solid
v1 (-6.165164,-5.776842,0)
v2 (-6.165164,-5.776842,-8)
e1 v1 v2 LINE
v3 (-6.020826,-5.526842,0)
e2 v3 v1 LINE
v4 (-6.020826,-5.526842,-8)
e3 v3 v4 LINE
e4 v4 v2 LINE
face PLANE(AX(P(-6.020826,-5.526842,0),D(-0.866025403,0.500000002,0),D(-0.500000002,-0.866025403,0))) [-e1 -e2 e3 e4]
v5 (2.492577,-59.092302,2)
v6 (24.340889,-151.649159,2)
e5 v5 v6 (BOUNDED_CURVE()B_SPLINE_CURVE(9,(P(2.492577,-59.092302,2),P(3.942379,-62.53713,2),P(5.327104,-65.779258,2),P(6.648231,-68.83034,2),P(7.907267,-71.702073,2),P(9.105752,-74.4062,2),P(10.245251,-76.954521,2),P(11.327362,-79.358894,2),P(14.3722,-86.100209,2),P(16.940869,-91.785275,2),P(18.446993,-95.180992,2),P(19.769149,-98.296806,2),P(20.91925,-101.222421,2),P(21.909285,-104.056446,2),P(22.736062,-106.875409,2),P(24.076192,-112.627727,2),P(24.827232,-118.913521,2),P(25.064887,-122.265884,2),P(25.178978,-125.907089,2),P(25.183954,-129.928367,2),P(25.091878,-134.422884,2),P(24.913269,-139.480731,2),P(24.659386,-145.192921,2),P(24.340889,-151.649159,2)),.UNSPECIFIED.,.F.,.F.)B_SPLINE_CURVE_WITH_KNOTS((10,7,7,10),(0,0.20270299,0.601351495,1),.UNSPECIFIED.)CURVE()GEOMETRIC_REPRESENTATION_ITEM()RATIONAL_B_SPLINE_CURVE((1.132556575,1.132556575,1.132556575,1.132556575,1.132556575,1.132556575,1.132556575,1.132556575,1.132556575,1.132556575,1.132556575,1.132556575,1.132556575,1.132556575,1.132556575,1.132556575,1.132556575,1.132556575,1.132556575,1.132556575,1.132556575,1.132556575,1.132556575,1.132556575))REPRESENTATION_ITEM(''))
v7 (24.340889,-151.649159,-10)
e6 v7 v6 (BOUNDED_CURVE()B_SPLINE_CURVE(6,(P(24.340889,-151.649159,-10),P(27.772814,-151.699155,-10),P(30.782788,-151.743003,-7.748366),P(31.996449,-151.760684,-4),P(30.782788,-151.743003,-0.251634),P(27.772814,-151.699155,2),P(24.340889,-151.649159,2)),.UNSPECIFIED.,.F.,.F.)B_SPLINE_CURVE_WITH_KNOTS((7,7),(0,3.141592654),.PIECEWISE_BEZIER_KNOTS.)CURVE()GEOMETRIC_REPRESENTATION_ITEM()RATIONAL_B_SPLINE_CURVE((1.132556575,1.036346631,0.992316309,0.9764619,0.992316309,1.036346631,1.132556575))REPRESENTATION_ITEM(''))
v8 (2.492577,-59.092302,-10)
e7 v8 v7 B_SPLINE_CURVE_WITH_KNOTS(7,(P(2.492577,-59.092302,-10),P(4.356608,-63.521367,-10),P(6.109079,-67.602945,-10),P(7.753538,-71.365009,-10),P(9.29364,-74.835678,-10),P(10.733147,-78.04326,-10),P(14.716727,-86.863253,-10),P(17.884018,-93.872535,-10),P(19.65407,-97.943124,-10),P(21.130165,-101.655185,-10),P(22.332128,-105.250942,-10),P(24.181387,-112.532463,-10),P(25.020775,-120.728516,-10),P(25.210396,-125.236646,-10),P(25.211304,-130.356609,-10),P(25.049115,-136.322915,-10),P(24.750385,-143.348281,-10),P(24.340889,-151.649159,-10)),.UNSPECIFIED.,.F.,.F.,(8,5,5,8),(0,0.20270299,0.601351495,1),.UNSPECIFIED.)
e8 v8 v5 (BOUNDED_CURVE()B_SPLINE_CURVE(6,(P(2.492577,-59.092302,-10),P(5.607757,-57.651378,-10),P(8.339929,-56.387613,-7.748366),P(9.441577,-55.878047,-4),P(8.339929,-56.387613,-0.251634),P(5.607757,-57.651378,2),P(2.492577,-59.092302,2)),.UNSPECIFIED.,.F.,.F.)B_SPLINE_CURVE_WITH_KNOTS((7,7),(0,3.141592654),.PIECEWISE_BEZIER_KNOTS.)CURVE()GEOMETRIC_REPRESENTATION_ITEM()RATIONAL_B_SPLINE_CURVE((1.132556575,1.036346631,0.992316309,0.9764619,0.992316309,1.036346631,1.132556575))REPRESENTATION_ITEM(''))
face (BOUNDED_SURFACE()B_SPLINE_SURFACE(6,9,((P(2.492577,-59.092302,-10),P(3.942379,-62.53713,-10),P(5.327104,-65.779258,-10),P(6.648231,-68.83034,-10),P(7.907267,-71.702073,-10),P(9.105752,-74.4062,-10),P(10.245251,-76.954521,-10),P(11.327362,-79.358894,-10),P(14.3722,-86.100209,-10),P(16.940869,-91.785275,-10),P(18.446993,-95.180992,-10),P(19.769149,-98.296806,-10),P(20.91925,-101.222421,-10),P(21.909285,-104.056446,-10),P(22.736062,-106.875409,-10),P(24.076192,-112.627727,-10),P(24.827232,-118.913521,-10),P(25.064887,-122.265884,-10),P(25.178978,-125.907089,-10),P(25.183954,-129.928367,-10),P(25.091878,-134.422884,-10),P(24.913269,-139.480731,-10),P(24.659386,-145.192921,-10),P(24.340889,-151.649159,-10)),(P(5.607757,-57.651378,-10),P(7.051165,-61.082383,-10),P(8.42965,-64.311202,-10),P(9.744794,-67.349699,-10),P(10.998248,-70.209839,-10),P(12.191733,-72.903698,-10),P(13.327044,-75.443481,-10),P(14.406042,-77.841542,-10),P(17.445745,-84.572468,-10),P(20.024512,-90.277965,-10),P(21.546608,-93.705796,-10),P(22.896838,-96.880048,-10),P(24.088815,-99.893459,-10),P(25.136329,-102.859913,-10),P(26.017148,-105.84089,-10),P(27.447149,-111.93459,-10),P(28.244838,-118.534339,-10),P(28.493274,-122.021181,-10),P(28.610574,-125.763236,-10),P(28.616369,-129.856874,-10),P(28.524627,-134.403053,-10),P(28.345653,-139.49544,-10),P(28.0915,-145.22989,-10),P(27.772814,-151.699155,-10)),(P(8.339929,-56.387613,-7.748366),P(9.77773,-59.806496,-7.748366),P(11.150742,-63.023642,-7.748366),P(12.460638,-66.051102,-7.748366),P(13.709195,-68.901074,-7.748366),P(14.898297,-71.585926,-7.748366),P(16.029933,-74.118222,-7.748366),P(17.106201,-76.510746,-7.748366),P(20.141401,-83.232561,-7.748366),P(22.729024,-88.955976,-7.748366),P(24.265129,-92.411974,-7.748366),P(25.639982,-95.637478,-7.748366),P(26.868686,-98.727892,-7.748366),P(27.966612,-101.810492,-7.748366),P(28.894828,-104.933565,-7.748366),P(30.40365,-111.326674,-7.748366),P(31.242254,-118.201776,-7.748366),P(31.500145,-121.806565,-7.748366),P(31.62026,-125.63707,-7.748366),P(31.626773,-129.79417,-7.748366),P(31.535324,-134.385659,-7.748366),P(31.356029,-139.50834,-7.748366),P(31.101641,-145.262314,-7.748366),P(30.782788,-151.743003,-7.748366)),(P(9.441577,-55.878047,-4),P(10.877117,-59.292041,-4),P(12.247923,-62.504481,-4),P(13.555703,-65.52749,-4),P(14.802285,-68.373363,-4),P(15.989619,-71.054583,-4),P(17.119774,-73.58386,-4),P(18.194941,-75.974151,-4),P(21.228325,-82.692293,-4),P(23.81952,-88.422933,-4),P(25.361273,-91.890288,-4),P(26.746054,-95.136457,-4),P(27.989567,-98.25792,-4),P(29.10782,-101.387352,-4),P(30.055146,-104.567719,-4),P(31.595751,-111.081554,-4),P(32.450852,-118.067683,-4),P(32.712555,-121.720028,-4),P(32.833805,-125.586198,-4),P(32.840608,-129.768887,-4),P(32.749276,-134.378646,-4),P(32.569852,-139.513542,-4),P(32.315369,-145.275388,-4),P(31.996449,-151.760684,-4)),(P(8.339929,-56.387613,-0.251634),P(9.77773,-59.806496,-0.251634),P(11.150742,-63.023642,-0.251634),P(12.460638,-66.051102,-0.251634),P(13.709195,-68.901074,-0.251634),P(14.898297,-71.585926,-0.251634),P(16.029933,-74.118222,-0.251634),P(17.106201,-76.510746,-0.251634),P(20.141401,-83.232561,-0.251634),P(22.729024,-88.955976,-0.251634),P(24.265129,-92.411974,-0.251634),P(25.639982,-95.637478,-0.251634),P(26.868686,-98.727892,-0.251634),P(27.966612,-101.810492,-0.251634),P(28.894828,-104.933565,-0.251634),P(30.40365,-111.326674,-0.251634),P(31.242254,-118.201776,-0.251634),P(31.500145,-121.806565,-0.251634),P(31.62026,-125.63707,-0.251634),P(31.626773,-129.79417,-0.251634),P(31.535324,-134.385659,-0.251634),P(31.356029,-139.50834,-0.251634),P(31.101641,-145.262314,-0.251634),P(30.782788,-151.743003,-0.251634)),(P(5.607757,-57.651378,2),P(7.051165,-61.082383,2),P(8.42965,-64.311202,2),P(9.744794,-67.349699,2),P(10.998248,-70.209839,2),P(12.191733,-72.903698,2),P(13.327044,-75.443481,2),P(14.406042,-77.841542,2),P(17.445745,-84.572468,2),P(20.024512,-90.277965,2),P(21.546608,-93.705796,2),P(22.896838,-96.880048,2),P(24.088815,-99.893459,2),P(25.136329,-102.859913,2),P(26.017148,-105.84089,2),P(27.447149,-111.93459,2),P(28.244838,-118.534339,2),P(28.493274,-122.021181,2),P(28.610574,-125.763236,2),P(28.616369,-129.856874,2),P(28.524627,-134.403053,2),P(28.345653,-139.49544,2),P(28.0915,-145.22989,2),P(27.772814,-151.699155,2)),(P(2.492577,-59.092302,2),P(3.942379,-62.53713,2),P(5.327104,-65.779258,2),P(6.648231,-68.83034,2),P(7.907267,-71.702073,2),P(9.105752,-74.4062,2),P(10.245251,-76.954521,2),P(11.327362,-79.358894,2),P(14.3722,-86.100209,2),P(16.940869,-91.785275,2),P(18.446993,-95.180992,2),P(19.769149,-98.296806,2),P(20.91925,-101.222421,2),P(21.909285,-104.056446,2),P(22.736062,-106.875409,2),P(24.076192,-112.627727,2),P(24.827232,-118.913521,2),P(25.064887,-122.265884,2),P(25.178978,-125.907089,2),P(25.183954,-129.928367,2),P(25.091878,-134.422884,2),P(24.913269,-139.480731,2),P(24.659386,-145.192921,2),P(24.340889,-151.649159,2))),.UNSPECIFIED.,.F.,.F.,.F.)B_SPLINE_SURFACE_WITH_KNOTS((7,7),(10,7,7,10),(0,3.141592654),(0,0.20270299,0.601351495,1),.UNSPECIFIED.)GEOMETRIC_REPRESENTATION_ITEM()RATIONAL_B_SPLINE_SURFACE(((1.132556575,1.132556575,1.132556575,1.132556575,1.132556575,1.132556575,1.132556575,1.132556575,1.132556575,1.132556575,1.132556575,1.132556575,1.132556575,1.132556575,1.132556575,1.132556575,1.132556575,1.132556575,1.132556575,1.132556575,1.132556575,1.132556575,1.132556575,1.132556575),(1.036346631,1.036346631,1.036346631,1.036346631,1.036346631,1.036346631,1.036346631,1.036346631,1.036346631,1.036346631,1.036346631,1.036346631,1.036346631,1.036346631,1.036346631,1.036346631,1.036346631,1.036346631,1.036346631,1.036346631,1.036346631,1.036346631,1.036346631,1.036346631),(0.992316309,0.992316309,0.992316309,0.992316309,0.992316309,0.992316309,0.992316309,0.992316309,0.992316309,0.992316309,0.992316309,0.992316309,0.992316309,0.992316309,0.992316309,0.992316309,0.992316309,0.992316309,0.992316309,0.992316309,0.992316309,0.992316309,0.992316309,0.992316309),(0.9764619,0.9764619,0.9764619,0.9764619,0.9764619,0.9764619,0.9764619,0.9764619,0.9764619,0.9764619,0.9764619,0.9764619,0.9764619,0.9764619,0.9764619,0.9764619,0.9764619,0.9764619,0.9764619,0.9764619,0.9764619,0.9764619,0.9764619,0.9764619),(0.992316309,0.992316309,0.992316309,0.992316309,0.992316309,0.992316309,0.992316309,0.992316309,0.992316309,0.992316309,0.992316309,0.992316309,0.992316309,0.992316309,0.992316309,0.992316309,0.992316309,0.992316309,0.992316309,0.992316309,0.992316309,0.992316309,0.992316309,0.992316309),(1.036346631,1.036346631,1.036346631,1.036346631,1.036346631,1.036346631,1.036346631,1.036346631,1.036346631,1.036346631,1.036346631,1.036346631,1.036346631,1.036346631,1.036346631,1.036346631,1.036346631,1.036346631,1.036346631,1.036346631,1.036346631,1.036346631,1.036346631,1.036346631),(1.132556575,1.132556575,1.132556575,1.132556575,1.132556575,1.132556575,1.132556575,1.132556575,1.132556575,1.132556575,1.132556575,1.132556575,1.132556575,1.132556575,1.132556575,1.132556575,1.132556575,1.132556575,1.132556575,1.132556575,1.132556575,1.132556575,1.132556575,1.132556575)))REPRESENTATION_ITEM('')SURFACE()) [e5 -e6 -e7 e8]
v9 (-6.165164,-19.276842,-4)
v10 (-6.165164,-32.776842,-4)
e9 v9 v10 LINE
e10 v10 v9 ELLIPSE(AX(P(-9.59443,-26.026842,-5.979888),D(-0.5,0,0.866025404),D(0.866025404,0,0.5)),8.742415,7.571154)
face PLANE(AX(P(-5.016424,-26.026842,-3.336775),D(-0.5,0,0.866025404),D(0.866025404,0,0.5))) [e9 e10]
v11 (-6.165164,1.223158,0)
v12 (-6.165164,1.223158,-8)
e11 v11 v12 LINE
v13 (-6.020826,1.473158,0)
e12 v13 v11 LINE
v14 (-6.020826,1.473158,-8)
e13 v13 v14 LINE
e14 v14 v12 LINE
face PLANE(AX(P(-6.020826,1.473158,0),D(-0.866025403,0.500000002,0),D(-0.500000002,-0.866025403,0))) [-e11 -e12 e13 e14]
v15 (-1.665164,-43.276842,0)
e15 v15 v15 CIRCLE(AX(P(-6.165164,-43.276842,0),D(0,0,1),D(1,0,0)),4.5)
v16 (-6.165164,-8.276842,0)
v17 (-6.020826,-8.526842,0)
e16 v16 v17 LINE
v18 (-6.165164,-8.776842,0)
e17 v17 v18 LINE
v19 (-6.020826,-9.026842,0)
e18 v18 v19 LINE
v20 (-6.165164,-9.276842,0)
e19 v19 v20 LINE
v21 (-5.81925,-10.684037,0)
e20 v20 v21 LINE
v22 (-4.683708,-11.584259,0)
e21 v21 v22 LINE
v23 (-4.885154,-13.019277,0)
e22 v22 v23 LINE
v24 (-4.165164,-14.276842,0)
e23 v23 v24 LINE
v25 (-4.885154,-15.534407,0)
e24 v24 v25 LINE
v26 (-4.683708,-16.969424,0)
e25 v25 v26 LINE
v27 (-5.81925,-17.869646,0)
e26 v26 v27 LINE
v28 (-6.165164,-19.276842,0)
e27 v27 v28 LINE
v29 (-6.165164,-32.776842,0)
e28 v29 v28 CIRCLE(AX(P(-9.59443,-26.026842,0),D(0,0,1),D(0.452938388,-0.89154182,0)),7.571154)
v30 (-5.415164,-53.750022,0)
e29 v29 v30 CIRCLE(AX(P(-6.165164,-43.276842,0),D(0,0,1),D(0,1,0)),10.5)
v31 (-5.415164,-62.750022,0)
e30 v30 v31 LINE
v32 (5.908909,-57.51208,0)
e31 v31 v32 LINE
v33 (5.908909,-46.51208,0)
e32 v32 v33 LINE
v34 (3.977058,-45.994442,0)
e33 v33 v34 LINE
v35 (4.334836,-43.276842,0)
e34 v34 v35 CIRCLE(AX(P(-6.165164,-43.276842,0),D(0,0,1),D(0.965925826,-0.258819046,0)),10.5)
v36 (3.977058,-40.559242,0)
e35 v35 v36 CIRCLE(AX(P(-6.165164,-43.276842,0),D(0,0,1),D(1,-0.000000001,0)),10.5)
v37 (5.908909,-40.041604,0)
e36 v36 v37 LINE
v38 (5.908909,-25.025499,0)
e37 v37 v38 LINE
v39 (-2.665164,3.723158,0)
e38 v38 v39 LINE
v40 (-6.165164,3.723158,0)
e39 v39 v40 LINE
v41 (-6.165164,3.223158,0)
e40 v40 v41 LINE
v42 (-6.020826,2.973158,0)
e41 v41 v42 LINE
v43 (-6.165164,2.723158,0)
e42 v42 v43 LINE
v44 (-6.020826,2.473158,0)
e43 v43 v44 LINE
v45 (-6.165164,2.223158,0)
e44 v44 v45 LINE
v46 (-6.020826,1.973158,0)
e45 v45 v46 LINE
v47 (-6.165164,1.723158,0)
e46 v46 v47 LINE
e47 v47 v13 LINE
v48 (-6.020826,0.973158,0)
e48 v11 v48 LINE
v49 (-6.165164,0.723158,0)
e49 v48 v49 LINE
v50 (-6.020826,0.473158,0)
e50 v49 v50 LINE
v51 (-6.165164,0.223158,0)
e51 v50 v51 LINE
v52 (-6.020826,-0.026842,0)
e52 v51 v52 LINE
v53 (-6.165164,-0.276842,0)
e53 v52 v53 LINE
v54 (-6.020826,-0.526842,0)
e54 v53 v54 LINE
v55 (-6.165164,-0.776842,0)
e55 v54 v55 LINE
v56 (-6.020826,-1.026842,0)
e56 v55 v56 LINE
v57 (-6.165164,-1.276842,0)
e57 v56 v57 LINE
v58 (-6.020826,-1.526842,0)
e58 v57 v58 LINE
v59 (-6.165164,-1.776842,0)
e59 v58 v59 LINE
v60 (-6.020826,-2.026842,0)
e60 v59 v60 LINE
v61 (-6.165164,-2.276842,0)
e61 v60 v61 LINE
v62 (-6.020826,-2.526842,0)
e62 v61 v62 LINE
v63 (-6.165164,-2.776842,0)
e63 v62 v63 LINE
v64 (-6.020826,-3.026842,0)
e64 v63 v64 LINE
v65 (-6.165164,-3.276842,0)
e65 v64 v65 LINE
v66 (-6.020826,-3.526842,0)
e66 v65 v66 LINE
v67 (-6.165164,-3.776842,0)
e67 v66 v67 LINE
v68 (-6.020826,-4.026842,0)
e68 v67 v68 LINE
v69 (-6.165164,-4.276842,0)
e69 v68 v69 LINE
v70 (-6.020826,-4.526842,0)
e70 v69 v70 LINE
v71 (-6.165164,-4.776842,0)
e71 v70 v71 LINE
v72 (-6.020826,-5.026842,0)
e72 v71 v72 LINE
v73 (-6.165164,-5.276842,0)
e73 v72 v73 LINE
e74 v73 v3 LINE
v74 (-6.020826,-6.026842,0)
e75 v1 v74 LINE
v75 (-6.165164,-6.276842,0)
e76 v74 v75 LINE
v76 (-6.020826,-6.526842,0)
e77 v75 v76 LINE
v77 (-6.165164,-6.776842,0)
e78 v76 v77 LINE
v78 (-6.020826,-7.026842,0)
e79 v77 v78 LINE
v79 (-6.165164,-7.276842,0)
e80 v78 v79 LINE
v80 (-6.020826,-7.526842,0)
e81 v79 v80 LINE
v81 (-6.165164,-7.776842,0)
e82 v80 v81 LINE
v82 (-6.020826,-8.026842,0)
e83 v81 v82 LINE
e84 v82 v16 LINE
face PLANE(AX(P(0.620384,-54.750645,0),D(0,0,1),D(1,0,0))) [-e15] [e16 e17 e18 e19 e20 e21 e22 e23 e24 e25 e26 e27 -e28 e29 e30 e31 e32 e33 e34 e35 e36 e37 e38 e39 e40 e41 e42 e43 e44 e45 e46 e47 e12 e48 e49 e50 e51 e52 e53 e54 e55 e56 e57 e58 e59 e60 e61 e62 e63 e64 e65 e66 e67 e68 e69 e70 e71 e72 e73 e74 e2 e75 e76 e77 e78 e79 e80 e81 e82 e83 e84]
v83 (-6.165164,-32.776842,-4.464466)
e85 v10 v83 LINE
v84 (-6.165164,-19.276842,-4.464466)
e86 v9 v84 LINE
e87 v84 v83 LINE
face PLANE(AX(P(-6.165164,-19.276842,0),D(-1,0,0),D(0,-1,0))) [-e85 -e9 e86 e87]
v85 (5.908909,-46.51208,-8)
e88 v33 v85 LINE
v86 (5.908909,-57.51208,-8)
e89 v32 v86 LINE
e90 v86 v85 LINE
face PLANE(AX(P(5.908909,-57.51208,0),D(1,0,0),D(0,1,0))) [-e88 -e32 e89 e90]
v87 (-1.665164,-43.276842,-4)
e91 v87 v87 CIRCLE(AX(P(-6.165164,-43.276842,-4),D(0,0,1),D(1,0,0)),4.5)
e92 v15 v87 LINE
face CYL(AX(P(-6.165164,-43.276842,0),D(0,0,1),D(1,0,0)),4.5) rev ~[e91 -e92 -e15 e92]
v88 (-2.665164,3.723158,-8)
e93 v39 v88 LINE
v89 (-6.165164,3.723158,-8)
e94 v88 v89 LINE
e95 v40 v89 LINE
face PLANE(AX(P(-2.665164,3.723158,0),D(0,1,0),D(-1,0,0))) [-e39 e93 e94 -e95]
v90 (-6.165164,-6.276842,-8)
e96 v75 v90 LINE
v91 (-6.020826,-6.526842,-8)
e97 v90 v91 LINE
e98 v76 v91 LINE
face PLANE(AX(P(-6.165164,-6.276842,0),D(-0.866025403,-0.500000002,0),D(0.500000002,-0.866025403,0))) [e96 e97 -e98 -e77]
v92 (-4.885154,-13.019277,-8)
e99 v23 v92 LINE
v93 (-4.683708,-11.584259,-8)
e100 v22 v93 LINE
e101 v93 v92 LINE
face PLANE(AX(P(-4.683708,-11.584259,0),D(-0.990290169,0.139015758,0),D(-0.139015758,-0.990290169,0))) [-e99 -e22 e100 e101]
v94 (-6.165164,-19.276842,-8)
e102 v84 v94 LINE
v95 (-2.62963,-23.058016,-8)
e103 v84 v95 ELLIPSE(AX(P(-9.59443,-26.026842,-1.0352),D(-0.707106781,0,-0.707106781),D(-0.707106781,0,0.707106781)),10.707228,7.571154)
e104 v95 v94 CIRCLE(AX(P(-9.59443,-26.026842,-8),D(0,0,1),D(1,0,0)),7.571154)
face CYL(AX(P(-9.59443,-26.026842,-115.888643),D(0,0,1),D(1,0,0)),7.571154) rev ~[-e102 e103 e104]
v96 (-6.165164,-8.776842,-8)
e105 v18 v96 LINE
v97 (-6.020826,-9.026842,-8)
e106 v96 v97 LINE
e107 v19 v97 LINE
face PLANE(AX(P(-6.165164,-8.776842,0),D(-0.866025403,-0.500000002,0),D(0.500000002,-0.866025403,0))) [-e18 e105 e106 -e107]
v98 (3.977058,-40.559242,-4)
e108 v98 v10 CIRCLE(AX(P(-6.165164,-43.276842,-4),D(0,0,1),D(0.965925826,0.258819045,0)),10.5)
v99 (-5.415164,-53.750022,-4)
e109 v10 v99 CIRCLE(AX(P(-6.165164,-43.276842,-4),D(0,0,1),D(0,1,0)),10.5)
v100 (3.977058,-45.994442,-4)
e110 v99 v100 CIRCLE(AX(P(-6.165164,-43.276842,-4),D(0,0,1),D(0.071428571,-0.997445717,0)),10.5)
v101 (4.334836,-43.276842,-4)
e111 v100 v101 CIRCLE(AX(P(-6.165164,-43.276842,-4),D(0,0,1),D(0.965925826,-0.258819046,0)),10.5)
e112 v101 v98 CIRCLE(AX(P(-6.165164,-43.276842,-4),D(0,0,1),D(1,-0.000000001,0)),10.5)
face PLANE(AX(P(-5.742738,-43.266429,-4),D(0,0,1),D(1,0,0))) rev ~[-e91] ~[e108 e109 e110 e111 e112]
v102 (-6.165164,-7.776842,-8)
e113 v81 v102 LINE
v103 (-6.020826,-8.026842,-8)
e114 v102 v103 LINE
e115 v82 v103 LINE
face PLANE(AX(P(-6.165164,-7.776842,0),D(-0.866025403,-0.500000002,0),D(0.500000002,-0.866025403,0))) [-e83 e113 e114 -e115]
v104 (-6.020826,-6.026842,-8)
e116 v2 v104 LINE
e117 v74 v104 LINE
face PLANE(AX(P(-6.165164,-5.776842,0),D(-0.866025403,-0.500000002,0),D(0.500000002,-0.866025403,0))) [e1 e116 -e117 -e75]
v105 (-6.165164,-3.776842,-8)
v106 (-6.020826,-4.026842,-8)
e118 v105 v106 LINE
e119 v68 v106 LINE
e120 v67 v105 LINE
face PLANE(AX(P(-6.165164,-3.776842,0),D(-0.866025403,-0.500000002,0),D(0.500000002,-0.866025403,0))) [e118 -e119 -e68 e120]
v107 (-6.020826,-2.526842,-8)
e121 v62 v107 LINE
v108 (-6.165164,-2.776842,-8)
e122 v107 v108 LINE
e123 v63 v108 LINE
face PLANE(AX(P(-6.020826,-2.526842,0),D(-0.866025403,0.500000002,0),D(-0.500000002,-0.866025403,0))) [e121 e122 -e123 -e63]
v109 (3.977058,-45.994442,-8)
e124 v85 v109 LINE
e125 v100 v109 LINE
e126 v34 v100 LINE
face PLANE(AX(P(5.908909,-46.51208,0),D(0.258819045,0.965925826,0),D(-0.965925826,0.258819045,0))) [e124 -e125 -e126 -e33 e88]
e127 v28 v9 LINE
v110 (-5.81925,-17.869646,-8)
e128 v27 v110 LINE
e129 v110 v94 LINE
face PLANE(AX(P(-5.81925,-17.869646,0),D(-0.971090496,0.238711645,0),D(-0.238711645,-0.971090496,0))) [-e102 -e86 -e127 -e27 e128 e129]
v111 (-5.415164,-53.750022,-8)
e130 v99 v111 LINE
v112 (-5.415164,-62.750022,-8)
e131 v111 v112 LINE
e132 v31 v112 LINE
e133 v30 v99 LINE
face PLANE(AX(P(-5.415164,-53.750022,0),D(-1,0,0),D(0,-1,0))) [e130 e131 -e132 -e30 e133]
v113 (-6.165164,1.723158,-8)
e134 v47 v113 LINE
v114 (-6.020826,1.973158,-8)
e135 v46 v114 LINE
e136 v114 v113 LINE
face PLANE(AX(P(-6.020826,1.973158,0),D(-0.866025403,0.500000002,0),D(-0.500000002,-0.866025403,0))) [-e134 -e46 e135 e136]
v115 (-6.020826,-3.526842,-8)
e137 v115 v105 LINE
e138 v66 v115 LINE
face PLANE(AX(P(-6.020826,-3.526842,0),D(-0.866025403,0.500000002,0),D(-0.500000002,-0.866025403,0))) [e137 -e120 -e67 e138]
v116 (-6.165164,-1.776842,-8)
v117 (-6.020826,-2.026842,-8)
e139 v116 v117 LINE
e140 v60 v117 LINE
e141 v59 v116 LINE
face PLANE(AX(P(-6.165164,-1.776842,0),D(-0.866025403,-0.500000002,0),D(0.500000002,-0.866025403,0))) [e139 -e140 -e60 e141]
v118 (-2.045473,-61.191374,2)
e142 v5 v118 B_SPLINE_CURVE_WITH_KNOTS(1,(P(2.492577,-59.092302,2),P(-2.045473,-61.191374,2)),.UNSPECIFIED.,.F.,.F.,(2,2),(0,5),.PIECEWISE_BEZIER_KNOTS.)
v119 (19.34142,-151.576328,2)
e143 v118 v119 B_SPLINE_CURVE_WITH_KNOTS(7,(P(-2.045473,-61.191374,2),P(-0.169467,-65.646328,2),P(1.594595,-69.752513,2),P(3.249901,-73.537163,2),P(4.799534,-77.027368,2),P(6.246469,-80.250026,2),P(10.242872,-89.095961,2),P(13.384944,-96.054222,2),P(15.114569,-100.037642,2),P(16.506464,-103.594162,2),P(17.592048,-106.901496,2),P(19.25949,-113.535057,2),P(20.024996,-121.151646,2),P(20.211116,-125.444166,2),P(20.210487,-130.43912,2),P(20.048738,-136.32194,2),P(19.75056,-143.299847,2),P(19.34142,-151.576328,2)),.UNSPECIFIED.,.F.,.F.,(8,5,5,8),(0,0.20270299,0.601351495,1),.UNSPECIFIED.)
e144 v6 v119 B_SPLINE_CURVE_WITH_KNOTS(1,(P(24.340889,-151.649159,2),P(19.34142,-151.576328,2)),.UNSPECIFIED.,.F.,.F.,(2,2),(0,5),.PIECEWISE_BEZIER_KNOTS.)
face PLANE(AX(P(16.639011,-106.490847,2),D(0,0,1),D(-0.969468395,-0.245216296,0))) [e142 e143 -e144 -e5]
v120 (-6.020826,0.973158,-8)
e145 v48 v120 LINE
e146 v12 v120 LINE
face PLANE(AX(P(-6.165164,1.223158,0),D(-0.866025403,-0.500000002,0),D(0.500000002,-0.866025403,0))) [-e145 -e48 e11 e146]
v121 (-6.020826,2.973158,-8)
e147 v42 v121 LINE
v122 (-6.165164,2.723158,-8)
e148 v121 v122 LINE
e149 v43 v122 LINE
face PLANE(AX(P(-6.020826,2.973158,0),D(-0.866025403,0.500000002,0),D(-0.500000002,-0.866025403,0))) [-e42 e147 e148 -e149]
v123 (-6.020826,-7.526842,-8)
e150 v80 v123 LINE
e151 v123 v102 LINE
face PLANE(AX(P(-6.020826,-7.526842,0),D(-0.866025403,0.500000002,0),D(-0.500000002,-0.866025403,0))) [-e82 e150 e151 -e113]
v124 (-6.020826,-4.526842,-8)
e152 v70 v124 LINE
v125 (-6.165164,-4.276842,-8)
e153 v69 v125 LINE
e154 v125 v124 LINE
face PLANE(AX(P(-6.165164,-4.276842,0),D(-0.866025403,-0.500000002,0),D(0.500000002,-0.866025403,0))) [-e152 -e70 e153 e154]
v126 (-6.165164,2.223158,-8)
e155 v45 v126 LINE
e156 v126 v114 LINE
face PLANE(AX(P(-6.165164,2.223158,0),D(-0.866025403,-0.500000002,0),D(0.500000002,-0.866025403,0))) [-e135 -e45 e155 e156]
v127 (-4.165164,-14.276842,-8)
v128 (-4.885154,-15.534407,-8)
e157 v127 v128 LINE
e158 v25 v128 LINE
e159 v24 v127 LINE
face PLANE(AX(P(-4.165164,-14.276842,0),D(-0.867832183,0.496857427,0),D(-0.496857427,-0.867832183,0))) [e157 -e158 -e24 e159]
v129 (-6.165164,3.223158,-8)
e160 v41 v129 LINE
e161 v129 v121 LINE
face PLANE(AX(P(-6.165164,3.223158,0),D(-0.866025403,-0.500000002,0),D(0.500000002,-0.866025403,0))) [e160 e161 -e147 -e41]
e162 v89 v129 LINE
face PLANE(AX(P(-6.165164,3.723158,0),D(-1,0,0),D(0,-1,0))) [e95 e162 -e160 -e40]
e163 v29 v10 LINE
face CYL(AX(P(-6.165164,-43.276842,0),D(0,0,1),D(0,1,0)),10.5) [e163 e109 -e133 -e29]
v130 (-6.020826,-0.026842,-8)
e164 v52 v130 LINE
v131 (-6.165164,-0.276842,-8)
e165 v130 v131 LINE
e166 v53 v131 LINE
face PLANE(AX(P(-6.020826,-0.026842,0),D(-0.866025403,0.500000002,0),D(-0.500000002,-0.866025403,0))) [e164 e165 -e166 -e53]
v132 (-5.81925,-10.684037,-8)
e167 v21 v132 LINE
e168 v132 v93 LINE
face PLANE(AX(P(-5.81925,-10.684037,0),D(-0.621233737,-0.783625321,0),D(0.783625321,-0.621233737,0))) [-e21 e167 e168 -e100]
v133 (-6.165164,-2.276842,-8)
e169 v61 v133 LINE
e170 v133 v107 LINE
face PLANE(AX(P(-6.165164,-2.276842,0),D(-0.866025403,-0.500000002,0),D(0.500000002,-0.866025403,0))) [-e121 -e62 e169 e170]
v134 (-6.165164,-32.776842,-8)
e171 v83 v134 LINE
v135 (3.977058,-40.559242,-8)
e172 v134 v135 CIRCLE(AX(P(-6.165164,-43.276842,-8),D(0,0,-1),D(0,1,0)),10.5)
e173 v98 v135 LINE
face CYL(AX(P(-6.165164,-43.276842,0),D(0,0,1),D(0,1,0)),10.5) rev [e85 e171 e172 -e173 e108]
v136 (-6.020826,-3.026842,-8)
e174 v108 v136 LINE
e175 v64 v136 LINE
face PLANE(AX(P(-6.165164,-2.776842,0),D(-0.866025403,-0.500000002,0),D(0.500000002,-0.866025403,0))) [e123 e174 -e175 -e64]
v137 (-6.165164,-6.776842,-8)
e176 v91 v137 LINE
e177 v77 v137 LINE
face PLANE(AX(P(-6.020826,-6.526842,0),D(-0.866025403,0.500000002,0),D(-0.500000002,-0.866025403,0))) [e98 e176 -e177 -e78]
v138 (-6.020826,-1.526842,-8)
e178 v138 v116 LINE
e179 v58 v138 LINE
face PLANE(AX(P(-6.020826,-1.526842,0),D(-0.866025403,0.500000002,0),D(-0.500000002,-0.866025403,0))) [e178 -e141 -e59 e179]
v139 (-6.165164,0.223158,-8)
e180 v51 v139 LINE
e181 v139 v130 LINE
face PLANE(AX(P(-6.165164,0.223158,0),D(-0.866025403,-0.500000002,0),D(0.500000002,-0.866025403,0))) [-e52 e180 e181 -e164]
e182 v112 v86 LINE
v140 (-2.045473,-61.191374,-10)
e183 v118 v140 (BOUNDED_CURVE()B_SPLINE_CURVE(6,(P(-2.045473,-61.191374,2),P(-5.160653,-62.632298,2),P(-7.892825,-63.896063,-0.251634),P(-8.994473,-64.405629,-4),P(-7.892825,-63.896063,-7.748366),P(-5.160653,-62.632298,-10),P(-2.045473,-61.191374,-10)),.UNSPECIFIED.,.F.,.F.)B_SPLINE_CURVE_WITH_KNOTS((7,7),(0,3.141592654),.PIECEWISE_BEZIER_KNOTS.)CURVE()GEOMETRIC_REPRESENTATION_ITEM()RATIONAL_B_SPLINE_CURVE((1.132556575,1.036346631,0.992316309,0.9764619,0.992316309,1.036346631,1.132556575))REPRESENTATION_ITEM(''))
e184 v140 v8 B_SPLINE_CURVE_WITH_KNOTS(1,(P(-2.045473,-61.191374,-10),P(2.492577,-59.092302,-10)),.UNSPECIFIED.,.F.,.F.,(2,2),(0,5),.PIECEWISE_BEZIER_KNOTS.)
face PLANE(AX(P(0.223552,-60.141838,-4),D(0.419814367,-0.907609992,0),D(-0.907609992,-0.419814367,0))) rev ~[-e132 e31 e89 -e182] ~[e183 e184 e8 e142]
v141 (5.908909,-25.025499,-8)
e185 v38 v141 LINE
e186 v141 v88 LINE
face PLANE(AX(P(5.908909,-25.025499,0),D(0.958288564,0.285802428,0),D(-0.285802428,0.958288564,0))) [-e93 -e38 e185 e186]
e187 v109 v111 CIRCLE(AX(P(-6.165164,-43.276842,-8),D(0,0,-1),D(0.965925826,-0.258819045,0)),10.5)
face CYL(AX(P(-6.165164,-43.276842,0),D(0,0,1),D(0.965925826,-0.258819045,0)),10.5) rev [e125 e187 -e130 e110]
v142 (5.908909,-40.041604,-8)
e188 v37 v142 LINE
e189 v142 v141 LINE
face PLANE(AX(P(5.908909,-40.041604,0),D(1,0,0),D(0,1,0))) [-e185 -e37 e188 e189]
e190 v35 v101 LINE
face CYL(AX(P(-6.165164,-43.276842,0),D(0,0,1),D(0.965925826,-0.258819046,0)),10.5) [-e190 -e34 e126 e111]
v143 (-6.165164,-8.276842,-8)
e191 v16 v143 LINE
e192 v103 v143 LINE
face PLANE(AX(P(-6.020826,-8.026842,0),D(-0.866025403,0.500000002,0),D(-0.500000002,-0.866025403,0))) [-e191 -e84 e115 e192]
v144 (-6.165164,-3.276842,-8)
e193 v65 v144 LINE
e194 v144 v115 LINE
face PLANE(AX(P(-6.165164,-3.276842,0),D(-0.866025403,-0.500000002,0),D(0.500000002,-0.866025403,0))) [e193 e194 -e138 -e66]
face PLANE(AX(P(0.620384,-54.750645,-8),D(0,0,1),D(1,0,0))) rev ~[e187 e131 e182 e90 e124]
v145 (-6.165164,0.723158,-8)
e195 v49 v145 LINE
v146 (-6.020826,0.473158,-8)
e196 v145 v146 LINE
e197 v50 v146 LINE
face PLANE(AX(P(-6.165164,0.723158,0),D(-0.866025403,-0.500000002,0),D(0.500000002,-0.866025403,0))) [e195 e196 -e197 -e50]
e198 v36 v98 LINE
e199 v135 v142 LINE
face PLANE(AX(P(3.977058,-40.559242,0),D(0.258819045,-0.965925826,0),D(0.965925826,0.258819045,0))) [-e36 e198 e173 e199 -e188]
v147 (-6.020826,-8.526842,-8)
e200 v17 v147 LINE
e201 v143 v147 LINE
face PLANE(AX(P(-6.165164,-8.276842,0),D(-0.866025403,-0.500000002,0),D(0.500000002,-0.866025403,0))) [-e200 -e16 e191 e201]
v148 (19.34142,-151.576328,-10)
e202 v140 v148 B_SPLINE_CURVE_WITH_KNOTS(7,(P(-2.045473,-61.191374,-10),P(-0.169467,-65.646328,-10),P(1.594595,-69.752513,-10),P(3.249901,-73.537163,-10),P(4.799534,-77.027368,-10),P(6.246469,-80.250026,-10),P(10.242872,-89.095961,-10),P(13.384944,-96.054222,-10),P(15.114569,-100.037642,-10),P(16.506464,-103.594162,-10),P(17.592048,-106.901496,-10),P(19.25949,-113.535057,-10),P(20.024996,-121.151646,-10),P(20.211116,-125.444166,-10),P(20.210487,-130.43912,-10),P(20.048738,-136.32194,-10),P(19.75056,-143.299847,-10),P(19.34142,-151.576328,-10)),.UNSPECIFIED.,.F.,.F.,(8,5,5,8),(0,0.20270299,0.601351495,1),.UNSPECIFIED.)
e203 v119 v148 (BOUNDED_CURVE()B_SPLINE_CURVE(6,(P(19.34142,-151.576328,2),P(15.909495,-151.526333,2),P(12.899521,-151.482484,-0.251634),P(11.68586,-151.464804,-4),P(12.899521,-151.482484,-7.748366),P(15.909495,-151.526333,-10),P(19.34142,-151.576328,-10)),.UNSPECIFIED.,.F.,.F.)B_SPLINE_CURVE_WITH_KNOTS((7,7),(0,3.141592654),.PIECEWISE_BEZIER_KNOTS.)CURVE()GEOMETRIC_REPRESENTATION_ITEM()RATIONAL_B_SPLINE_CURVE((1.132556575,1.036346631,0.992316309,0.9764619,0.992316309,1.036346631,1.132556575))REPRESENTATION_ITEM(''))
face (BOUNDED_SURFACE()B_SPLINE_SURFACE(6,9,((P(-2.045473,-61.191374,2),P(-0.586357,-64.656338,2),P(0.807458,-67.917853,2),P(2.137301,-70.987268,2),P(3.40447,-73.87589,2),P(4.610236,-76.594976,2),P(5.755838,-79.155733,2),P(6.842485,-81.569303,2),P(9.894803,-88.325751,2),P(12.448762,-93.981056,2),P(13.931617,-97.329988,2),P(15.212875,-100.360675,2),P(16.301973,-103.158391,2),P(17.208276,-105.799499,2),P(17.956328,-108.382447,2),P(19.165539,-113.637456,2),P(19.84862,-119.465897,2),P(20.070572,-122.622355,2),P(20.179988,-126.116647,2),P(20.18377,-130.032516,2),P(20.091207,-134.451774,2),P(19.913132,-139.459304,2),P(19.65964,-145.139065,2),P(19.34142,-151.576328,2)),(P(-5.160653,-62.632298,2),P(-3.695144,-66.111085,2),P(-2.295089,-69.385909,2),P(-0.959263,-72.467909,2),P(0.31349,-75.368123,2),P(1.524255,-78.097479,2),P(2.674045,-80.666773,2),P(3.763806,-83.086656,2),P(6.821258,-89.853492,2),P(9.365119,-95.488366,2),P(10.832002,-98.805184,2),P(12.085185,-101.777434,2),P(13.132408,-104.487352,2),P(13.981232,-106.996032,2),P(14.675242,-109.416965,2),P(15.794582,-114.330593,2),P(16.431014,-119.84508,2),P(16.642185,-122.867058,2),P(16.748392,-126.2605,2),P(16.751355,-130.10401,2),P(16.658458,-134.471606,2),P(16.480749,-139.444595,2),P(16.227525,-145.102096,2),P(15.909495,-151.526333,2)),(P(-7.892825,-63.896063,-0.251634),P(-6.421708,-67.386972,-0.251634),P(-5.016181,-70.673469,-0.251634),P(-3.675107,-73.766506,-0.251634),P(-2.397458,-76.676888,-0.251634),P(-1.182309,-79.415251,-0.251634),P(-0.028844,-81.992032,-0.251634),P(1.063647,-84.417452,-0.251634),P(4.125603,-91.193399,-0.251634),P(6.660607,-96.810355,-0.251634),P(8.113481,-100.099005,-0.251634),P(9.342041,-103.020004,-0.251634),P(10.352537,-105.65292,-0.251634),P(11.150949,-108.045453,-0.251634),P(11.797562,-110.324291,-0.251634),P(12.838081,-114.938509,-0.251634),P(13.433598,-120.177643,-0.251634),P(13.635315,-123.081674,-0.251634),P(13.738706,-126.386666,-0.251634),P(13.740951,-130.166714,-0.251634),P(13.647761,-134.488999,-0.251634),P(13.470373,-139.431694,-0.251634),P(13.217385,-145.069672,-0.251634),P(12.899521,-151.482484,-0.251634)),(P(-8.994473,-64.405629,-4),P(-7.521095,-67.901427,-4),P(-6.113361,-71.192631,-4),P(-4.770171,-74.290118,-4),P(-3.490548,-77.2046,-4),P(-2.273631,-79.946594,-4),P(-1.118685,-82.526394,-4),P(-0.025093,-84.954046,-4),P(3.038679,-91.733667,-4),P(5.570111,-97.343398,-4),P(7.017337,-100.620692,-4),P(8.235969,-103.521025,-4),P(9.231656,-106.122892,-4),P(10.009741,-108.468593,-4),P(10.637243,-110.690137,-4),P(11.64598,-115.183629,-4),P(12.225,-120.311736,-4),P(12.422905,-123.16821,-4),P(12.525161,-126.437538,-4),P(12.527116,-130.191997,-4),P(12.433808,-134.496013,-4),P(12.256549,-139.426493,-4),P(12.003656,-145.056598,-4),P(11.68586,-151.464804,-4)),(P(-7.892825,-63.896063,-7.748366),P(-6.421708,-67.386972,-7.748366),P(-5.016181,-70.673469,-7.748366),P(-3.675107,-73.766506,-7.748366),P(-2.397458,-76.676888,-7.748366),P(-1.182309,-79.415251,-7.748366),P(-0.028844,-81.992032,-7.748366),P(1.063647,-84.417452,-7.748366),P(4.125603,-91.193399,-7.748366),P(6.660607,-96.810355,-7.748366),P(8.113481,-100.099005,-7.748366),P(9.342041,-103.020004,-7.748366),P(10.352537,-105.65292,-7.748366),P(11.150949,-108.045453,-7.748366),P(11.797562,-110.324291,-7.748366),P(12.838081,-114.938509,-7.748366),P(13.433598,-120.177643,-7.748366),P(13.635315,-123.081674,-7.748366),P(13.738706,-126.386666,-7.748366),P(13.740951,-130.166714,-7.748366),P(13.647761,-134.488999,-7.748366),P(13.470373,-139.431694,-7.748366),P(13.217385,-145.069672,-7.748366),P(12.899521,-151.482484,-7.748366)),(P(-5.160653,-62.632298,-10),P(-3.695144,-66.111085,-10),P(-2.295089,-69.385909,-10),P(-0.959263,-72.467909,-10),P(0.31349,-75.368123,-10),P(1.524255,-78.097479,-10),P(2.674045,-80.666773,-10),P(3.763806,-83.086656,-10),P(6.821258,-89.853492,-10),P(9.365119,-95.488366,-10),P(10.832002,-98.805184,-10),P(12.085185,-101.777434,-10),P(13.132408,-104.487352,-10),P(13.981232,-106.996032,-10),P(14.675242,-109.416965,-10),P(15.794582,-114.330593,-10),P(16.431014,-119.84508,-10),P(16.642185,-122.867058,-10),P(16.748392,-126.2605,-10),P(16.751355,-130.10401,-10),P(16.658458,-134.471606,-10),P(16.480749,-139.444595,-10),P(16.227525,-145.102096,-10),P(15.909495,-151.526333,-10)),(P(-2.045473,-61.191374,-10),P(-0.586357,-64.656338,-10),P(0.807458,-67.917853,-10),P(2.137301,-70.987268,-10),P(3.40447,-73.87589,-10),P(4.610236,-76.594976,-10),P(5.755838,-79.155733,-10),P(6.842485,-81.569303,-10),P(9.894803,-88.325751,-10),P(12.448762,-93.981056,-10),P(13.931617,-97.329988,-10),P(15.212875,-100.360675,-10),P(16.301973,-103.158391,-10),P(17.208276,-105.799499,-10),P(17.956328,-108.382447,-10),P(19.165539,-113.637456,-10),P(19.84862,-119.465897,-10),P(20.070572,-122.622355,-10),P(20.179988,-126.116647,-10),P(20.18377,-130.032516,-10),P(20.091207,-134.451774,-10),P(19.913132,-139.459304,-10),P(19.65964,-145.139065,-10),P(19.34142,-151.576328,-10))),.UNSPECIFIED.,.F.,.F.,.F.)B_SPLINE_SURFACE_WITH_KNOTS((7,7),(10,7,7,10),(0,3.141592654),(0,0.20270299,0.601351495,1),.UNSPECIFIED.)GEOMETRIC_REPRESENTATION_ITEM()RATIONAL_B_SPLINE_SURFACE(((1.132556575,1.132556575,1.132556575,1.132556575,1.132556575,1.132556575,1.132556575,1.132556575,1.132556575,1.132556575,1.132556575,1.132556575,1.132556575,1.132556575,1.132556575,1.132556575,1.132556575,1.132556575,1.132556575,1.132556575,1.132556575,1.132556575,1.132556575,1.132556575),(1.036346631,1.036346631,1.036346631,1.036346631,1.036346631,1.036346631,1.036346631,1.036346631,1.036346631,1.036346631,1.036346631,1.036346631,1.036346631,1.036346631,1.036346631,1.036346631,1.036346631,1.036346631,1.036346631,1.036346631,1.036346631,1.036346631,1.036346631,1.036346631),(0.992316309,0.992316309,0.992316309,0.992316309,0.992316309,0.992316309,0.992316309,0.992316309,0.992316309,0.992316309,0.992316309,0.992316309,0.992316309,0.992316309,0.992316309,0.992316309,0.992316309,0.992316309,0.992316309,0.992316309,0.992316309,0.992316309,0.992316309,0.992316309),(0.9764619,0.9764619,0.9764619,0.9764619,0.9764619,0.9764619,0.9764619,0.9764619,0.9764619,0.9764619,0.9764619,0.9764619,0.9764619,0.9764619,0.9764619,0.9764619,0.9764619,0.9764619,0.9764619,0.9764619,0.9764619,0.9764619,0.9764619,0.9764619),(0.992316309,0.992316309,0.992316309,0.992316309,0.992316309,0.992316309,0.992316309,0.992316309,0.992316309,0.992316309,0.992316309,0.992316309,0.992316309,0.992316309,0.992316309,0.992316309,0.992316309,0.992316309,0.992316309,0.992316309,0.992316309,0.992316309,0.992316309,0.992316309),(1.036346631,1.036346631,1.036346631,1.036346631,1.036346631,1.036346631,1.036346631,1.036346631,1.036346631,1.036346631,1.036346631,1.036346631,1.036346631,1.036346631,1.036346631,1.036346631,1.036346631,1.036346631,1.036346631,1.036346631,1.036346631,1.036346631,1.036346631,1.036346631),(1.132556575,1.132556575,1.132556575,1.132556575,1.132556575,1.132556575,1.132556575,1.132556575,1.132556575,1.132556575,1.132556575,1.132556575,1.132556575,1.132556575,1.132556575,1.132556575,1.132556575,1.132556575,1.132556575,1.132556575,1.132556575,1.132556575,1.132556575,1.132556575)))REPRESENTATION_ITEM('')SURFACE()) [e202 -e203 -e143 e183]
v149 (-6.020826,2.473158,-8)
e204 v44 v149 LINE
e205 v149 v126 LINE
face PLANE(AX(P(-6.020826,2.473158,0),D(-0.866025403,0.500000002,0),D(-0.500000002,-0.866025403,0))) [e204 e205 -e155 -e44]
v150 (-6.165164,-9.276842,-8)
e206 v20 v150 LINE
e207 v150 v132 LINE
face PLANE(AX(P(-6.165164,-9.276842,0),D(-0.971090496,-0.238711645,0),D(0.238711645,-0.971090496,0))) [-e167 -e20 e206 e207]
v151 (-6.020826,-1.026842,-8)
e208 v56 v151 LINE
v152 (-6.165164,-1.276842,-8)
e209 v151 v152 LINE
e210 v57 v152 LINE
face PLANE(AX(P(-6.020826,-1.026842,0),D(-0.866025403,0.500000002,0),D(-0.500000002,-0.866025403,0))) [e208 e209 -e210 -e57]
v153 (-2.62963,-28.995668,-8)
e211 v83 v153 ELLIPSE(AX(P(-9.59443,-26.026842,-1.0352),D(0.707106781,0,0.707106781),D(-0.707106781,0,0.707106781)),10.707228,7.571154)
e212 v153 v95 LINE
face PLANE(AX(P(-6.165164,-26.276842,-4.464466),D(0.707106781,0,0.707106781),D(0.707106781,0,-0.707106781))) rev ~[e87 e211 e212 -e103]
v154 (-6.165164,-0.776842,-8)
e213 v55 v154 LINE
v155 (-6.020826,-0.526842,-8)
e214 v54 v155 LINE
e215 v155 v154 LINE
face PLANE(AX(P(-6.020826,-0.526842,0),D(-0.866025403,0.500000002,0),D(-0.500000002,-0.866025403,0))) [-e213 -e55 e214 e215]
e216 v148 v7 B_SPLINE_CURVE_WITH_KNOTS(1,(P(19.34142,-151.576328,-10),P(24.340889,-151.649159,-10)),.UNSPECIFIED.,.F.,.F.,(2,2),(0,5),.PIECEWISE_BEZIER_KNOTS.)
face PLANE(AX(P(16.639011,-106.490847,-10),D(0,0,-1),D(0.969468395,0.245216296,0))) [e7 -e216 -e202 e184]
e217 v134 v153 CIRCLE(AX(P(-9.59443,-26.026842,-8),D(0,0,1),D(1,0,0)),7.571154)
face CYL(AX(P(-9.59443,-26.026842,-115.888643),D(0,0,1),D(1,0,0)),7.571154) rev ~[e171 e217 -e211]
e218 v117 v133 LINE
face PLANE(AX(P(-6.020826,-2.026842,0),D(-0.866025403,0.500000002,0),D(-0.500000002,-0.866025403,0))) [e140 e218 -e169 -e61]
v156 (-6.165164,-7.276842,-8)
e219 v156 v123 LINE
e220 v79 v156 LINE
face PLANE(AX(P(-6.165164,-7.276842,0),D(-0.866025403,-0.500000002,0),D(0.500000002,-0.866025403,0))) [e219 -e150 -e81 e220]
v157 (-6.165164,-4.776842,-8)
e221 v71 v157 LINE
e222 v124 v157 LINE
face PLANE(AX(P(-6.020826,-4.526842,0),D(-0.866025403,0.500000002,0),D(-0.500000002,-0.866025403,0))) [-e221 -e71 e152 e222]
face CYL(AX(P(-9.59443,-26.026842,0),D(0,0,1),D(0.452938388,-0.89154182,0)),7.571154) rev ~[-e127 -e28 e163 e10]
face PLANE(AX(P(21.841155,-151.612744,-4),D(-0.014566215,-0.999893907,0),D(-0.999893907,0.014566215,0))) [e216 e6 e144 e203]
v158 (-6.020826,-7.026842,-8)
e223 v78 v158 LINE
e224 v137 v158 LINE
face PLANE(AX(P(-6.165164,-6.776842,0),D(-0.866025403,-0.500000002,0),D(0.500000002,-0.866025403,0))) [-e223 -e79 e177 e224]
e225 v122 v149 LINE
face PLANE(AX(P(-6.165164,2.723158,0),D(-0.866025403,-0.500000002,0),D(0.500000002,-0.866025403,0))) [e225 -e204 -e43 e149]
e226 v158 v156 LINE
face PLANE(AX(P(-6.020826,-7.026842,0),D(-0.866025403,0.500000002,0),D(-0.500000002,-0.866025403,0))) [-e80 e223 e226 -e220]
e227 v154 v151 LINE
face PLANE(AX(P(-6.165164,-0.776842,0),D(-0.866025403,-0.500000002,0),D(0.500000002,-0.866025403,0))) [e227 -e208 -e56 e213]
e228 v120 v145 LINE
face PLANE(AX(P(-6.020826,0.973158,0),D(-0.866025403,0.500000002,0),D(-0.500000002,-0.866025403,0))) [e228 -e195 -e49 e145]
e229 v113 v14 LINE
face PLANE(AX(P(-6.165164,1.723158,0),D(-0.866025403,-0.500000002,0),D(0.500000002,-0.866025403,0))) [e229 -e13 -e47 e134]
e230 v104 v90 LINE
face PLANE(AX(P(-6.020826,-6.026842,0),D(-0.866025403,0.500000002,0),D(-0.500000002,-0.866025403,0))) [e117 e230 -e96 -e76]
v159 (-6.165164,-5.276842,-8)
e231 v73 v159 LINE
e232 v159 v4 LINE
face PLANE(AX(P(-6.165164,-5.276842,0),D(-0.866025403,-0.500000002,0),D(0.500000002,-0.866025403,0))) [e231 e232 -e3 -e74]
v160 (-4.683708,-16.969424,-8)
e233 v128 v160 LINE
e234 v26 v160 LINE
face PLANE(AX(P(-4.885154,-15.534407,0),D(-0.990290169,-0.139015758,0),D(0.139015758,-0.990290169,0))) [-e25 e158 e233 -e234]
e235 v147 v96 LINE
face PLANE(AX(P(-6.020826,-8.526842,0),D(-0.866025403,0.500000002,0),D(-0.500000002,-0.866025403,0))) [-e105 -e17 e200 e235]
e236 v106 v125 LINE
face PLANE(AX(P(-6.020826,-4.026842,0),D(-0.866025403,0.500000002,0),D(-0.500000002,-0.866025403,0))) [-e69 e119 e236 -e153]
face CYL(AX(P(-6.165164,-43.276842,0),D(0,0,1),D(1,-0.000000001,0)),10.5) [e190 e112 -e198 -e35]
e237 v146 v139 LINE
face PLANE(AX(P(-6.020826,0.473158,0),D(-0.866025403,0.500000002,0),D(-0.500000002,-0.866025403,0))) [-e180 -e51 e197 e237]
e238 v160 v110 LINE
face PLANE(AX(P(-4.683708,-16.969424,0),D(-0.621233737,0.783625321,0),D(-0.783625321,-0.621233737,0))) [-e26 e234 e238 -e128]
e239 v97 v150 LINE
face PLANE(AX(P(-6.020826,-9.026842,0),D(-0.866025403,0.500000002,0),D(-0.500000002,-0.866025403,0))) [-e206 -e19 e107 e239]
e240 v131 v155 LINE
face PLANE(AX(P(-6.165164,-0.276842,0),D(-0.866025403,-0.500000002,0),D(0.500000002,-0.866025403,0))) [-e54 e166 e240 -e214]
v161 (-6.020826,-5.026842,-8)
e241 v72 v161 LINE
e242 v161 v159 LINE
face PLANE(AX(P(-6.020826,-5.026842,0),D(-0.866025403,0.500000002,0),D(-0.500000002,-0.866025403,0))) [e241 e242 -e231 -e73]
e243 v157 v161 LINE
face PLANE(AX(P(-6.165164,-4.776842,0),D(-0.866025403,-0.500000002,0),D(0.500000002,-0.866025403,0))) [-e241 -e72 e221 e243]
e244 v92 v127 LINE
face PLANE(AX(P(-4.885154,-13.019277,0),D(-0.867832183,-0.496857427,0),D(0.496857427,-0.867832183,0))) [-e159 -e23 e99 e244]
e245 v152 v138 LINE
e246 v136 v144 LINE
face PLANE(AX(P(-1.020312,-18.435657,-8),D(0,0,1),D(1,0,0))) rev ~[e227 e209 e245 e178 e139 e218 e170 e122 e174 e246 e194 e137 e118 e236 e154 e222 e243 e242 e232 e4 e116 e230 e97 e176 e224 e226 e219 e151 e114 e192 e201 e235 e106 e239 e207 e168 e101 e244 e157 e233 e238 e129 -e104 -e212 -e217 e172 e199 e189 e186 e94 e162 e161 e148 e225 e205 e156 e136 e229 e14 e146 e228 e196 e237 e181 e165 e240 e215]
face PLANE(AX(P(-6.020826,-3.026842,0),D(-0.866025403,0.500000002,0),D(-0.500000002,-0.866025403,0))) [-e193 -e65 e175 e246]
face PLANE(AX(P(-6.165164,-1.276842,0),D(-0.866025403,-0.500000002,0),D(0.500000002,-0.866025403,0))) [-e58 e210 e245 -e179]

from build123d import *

# Parameters (mm, degrees)
BOSS_EXTRUDE1_DEPTH                 = 8
SKETCH1_3_R                         = 4.5
BOSS_EXTRUDE2_DEPTH                 = 4
BOSS_EXTRUDE3_DEPTH                 = 8
CUT_EXTRUDE1_DEPTH                  = 4
DRAFT1_ANGLE                        = 1
DRAFT2_ANGLE                        = 30
CUT_EXTRUDE2_REACH                  = 100.996
CUT_EXTRUDE2_END_RADIUS             = 7.571153535
CUT_EXTRUDE2_START                  = -30
CUT_EXTRUDE2_DIRECTION_2_REACH      = 100.996
CUT_EXTRUDE2_DIRECTION_2_END_RADIUS = 7.571153535


with BuildPart() as part:
    # Sketch1 → Boss-Extrude1 (new body)
    with BuildSketch(Plane.XY):
        with BuildLine():
            Line((-2.665163662, 3.723158213), (-6.165163662, 3.723158213))
            Line((-6.165163662, 3.723158213), (-6.165163662, 3.223158213))
            Line((-6.165163662, 3.223158213), (-6.020826094, 2.973158213))
            Line((-6.020826094, 2.973158213), (-6.165163662, 2.723158213))
            Line((-6.165163662, 2.723158213), (-6.020826094, 2.473158213))
            Line((-6.020826094, 2.473158213), (-6.165163662, 2.223158213))
            Line((-6.165163662, 2.223158213), (-6.020826094, 1.973158213))
            Line((-6.020826094, 1.973158213), (-6.165163662, 1.723158213))
            Line((-6.165163662, 1.723158213), (-6.020826094, 1.473158213))
            Line((-6.020826094, 1.473158213), (-6.165163662, 1.223158213))
            Line((-6.165163662, 1.223158213), (-6.020826094, 0.973158213))
            Line((-6.020826094, 0.973158213), (-6.165163662, 0.723158213))
            Line((-6.165163662, 0.723158213), (-6.020826094, 0.473158213))
            Line((-6.020826094, 0.473158213), (-6.165163662, 0.223158213))
            Line((-6.165163662, 0.223158213), (-6.020826094, -0.026841787))
            Line((-6.020826094, -0.026841787), (-6.165163662, -0.276841787))
            Line((-6.165163662, -0.276841787), (-6.020826094, -0.526841787))
            Line((-6.020826094, -0.526841787), (-6.165163662, -0.776841787))
            Line((-6.165163662, -0.776841787), (-6.020826094, -1.026841787))
            Line((-6.020826094, -1.026841787), (-6.165163662, -1.276841787))
            Line((-6.165163662, -1.276841787), (-6.020826094, -1.526841787))
            Line((-6.020826094, -1.526841787), (-6.165163662, -1.776841787))
            Line((-6.165163662, -1.776841787), (-6.020826094, -2.026841787))
            Line((-6.020826094, -2.026841787), (-6.165163662, -2.276841787))
            Line((-6.165163662, -2.276841787), (-6.020826094, -2.526841787))
            Line((-6.020826094, -2.526841787), (-6.165163662, -2.776841787))
            Line((-6.165163662, -2.776841787), (-6.020826094, -3.026841787))
            Line((-6.020826094, -3.026841787), (-6.165163662, -3.276841787))
            Line((-6.165163662, -3.276841787), (-6.020826094, -3.526841787))
            Line((-6.020826094, -3.526841787), (-6.165163662, -3.776841787))
            Line((-6.165163662, -3.776841787), (-6.020826094, -4.026841787))
            Line((-6.020826094, -4.026841787), (-6.165163662, -4.276841787))
            Line((-6.165163662, -4.276841787), (-6.020826094, -4.526841787))
            Line((-6.020826094, -4.526841787), (-6.165163662, -4.776841787))
            Line((-6.165163662, -4.776841787), (-6.020826094, -5.026841787))
            Line((-6.020826094, -5.026841787), (-6.165163662, -5.276841787))
            Line((-6.165163662, -5.276841787), (-6.020826094, -5.526841787))
            Line((-6.020826094, -5.526841787), (-6.165163662, -5.776841787))
            Line((-6.165163662, -5.776841787), (-6.020826094, -6.026841787))
            Line((-6.020826094, -6.026841787), (-6.165163662, -6.276841787))
            Line((-6.165163662, -6.276841787), (-6.020826094, -6.526841787))
            Line((-6.020826094, -6.526841787), (-6.165163662, -6.776841787))
            Line((-6.165163662, -6.776841787), (-6.020826094, -7.026841787))
            Line((-6.020826094, -7.026841787), (-6.165163662, -7.276841787))
            Line((-6.165163662, -7.276841787), (-6.020826094, -7.526841787))
            Line((-6.020826094, -7.526841787), (-6.165163662, -7.776841787))
            Line((-6.165163662, -7.776841787), (-6.020826094, -8.026841787))
            Line((-6.020826094, -8.026841787), (-6.165163662, -8.276841787))
            Line((-6.165163662, -8.276841787), (-6.020826094, -8.526841787))
            Line((-6.020826094, -8.526841787), (-6.165163662, -8.776841787))
            Line((-6.165163662, -8.776841787), (-6.020826094, -9.026841787))
            Line((-6.020826094, -9.026841787), (-6.165163662, -9.276841787))
            Line((-6.165163662, -9.276841787), (-5.819249533, -10.684037163))
            Line((-5.819249533, -10.684037163), (-4.683707653, -11.584259383))
            Line((-4.683707653, -11.584259383), (-4.88515369, -13.019276771))
            Line((-4.88515369, -13.019276771), (-4.165163662, -14.276841787))
            Line((-4.165163662, -14.276841787), (-4.88515369, -15.534406803))
            Line((-4.88515369, -15.534406803), (-4.683707653, -16.969424191))
            Line((-4.683707653, -16.969424191), (-5.819249533, -17.869646411))
            Line((-5.819249533, -17.869646411), (-6.165163662, -19.276841787))
            Line((-6.165163662, -19.276841787), (-6.165163662, -32.776841787))
            ThreePointArc((-6.165163662, -32.776841787), (0.226831343, -34.946631714), (3.977057514, -40.559241813))
            Line((3.977057514, -40.559241813), (5.908909167, -40.041603723))
            Line((5.908909167, -40.041603723), (5.908909167, -25.025498714))
            Line((5.908909167, -25.025498714), (-2.665163662, 3.723158213))
        make_face()
    extrude(amount=-BOSS_EXTRUDE1_DEPTH)

    # Sketch1<3> → Boss-Extrude2 (add)
    with BuildSketch(Plane.XY):
        with BuildLine():
            ThreePointArc((4.334836338, -43.276841787), (4.245007383, -41.906316769), (3.977057514, -40.559241813))
            ThreePointArc((3.977057514, -40.559241813), (0.226831343, -34.946631714), (-6.165163662, -32.776841787))
            ThreePointArc((-6.165163662, -32.776841787), (-16.658456528, -43.652081481), (-5.415163662, -53.75002182))
            ThreePointArc((-5.415163662, -53.75002182), (0.520445963, -51.373299281), (3.977057514, -45.994441761))
            ThreePointArc((3.977057514, -45.994441761), (4.245007383, -44.647366805), (4.334836338, -43.276841787))
        make_face()
        with Locations((-6.165163662, -43.276841787)):
            Circle(SKETCH1_3_R, mode=Mode.SUBTRACT)
    extrude(amount=-BOSS_EXTRUDE2_DEPTH)

    # Sketch1<4> → Boss-Extrude3 (add)
    with BuildSketch(Plane.XY):
        with BuildLine():
            Line((5.908909167, -46.512079851), (3.977057514, -45.994441761))
            ThreePointArc((3.977057514, -45.994441761), (0.520445963, -51.373299281), (-5.415163662, -53.75002182))
            Line((-5.415163662, -53.75002182), (-5.415163662, -62.75002182))
            Line((-5.415163662, -62.75002182), (5.908909167, -57.512079851))
            Line((5.908909167, -57.512079851), (5.908909167, -46.512079851))
        make_face()
    extrude(amount=-BOSS_EXTRUDE3_DEPTH)

    # Sketch2 → Cut-Extrude1 (cut)
    with BuildSketch(Plane.XY):
        with BuildLine():
            Line((-6.165163662, -19.276841787), (-6.165163662, -32.776841787))
            ThreePointArc((-6.165163662, -32.776841787), (-2.023276207, -26.026841787), (-6.165163662, -19.276841787))
        make_face()
    extrude(amount=-CUT_EXTRUDE1_DEPTH, mode=Mode.SUBTRACT)

    # Draft1
    draft1_faces = [part.faces().sort_by_distance(p)[0] for p in [
        (-4.462150227, -26.026841787, -4),
    ]]
    draft(draft1_faces, Plane(origin=(-6.165163662, 0, -8), x_dir=(0, -1, 0), z_dir=(-1, 0, 0)), DRAFT1_ANGLE)

    # Draft2
    draft2_faces = [part.faces().sort_by_distance(p)[0] for p in [
        (-4.462150227, -26.026841787, -3.97027379),
    ]]
    draft(draft2_faces, Plane(origin=(-6.165163662, 0, -8), x_dir=(0, -1, 0), z_dir=(-1, 0, 0)), DRAFT2_ANGLE)

    # Cut-Extrude2: up to this cylinder (the profile starts inside it)
    cut_extrude2_end = Plane(origin=(-9.594429741, -26.026841787, -6.821489), z_dir=(0, 0, 1)) * Cylinder(CUT_EXTRUDE2_END_RADIUS, 218.134307069, mode=Mode.PRIVATE)
    # Sketch3 → Cut-Extrude2 (cut, up to the surface)
    with BuildSketch(Plane(origin=(0, 3.723158213, 0), x_dir=(1, 0, 0), z_dir=(0, 1, 0)).offset(CUT_EXTRUDE2_START), mode=Mode.PRIVATE) as cut_extrude2_sk1:
        Polygon((-6.165163662, 4.464466094), (-2.629629756, 8), (-6.165163662, 8), align=None)
    cut_extrude2_tool1 = extrude(cut_extrude2_sk1.sketch, amount=CUT_EXTRUDE2_REACH, mode=Mode.PRIVATE) & cut_extrude2_end
    add(cut_extrude2_tool1.solids().sort_by_distance((-4.986652, -26.276842, -6.821489))[0], mode=Mode.SUBTRACT)

    # Cut-Extrude2 direction 2: up to this cylinder (the profile starts inside it)
    cut_extrude2_direction_2_end = Plane(origin=(-9.594429741, -26.026841787, -6.821489), z_dir=(0, 0, 1)) * Cylinder(CUT_EXTRUDE2_DIRECTION_2_END_RADIUS, 218.134307069, mode=Mode.PRIVATE)
    # Sketch3 → Cut-Extrude2 direction 2 (cut, up to the surface)
    with BuildSketch(Plane(origin=(0, 3.723158213, 0), x_dir=(1, 0, 0), z_dir=(0, 1, 0)).offset(CUT_EXTRUDE2_START), mode=Mode.PRIVATE) as cut_extrude2_direction_2_sk1:
        Polygon((-6.165163662, 4.464466094), (-2.629629756, 8), (-6.165163662, 8), align=None)
    cut_extrude2_direction_2_tool1 = extrude(cut_extrude2_direction_2_sk1.sketch, amount=-CUT_EXTRUDE2_DIRECTION_2_REACH, mode=Mode.PRIVATE) & cut_extrude2_direction_2_end
    add(cut_extrude2_direction_2_tool1.solids().sort_by_distance((-4.986652, -26.276842, -6.821489))[0], mode=Mode.SUBTRACT)

    # Sweep1: sweep along a path in Sketch5
    with BuildLine() as sweep1_path:  # in the path sketch's own coordinates; laid on its plane below (add() does not lay a ready-made edge on the line's plane)
        add(Edge.make_bspline(
            [(0.223551669, -60.141837986), (21.749513364, -111.274227055), (24.236934906, -103.098193166), (21.841154622, -151.61274391)],
            knots=[0, 0, 0, 0, 1, 1, 1, 1], degree=3))
    # Sketch4 → Sweep1 (sweep)
    with BuildSketch(Plane(origin=(22.955106723, -49.62737309, 0), x_dir=(0.9076099917812164, 0.419814367094434, 0), z_dir=(0.41981436709443404, -0.9076099917812165, 0))):
        with BuildLine():
            Line((-27.545509922, -1), (-22.545509922, -1))
            ThreePointArc((-22.545509922, -1), (-19.545509922, -4), (-22.545509922, -7))
            Line((-22.545509922, -7), (-27.545509922, -7))
            ThreePointArc((-27.545509922, -7), (-30.545509922, -4), (-27.545509922, -1))
        make_face()
    sweep(path=Plane.XY.offset(-4) * sweep1_path.line)

    # Sweep3: sweep along a path in Sketch5<3>
    with BuildLine() as sweep3_path:  # in the path sketch's own coordinates; laid on its plane below (add() does not lay a ready-made edge on the line's plane)
        add(Edge.make_bspline(
            [(0.223551669, -60.141837986), (21.749513364, -111.274227055), (24.236934906, -103.098193166), (21.841154622, -151.61274391)],
            knots=[0, 0, 0, 0, 1, 1, 1, 1], degree=3))
    # Sketch13 → Sweep3 (sweep)
    with BuildSketch(Plane(origin=(-2.2035554, -151.26246633, 0), x_dir=(0.9998939070612703, -0.014566215079688138, 0), z_dir=(-0.014566215079688138, -0.9998939070612703, 0))):
        with BuildLine():
            Line((21.547261266, -10), (26.547261266, -10))
            ThreePointArc((26.547261266, -10), (32.547261266, -4), (26.547261266, 2))
            Line((26.547261266, 2), (21.547261266, 2))
            ThreePointArc((21.547261266, 2), (15.547261266, -4), (21.547261266, -10))
        make_face()
    sweep(path=Plane.XY.offset(-4) * sweep3_path.line)


solid = part.part
